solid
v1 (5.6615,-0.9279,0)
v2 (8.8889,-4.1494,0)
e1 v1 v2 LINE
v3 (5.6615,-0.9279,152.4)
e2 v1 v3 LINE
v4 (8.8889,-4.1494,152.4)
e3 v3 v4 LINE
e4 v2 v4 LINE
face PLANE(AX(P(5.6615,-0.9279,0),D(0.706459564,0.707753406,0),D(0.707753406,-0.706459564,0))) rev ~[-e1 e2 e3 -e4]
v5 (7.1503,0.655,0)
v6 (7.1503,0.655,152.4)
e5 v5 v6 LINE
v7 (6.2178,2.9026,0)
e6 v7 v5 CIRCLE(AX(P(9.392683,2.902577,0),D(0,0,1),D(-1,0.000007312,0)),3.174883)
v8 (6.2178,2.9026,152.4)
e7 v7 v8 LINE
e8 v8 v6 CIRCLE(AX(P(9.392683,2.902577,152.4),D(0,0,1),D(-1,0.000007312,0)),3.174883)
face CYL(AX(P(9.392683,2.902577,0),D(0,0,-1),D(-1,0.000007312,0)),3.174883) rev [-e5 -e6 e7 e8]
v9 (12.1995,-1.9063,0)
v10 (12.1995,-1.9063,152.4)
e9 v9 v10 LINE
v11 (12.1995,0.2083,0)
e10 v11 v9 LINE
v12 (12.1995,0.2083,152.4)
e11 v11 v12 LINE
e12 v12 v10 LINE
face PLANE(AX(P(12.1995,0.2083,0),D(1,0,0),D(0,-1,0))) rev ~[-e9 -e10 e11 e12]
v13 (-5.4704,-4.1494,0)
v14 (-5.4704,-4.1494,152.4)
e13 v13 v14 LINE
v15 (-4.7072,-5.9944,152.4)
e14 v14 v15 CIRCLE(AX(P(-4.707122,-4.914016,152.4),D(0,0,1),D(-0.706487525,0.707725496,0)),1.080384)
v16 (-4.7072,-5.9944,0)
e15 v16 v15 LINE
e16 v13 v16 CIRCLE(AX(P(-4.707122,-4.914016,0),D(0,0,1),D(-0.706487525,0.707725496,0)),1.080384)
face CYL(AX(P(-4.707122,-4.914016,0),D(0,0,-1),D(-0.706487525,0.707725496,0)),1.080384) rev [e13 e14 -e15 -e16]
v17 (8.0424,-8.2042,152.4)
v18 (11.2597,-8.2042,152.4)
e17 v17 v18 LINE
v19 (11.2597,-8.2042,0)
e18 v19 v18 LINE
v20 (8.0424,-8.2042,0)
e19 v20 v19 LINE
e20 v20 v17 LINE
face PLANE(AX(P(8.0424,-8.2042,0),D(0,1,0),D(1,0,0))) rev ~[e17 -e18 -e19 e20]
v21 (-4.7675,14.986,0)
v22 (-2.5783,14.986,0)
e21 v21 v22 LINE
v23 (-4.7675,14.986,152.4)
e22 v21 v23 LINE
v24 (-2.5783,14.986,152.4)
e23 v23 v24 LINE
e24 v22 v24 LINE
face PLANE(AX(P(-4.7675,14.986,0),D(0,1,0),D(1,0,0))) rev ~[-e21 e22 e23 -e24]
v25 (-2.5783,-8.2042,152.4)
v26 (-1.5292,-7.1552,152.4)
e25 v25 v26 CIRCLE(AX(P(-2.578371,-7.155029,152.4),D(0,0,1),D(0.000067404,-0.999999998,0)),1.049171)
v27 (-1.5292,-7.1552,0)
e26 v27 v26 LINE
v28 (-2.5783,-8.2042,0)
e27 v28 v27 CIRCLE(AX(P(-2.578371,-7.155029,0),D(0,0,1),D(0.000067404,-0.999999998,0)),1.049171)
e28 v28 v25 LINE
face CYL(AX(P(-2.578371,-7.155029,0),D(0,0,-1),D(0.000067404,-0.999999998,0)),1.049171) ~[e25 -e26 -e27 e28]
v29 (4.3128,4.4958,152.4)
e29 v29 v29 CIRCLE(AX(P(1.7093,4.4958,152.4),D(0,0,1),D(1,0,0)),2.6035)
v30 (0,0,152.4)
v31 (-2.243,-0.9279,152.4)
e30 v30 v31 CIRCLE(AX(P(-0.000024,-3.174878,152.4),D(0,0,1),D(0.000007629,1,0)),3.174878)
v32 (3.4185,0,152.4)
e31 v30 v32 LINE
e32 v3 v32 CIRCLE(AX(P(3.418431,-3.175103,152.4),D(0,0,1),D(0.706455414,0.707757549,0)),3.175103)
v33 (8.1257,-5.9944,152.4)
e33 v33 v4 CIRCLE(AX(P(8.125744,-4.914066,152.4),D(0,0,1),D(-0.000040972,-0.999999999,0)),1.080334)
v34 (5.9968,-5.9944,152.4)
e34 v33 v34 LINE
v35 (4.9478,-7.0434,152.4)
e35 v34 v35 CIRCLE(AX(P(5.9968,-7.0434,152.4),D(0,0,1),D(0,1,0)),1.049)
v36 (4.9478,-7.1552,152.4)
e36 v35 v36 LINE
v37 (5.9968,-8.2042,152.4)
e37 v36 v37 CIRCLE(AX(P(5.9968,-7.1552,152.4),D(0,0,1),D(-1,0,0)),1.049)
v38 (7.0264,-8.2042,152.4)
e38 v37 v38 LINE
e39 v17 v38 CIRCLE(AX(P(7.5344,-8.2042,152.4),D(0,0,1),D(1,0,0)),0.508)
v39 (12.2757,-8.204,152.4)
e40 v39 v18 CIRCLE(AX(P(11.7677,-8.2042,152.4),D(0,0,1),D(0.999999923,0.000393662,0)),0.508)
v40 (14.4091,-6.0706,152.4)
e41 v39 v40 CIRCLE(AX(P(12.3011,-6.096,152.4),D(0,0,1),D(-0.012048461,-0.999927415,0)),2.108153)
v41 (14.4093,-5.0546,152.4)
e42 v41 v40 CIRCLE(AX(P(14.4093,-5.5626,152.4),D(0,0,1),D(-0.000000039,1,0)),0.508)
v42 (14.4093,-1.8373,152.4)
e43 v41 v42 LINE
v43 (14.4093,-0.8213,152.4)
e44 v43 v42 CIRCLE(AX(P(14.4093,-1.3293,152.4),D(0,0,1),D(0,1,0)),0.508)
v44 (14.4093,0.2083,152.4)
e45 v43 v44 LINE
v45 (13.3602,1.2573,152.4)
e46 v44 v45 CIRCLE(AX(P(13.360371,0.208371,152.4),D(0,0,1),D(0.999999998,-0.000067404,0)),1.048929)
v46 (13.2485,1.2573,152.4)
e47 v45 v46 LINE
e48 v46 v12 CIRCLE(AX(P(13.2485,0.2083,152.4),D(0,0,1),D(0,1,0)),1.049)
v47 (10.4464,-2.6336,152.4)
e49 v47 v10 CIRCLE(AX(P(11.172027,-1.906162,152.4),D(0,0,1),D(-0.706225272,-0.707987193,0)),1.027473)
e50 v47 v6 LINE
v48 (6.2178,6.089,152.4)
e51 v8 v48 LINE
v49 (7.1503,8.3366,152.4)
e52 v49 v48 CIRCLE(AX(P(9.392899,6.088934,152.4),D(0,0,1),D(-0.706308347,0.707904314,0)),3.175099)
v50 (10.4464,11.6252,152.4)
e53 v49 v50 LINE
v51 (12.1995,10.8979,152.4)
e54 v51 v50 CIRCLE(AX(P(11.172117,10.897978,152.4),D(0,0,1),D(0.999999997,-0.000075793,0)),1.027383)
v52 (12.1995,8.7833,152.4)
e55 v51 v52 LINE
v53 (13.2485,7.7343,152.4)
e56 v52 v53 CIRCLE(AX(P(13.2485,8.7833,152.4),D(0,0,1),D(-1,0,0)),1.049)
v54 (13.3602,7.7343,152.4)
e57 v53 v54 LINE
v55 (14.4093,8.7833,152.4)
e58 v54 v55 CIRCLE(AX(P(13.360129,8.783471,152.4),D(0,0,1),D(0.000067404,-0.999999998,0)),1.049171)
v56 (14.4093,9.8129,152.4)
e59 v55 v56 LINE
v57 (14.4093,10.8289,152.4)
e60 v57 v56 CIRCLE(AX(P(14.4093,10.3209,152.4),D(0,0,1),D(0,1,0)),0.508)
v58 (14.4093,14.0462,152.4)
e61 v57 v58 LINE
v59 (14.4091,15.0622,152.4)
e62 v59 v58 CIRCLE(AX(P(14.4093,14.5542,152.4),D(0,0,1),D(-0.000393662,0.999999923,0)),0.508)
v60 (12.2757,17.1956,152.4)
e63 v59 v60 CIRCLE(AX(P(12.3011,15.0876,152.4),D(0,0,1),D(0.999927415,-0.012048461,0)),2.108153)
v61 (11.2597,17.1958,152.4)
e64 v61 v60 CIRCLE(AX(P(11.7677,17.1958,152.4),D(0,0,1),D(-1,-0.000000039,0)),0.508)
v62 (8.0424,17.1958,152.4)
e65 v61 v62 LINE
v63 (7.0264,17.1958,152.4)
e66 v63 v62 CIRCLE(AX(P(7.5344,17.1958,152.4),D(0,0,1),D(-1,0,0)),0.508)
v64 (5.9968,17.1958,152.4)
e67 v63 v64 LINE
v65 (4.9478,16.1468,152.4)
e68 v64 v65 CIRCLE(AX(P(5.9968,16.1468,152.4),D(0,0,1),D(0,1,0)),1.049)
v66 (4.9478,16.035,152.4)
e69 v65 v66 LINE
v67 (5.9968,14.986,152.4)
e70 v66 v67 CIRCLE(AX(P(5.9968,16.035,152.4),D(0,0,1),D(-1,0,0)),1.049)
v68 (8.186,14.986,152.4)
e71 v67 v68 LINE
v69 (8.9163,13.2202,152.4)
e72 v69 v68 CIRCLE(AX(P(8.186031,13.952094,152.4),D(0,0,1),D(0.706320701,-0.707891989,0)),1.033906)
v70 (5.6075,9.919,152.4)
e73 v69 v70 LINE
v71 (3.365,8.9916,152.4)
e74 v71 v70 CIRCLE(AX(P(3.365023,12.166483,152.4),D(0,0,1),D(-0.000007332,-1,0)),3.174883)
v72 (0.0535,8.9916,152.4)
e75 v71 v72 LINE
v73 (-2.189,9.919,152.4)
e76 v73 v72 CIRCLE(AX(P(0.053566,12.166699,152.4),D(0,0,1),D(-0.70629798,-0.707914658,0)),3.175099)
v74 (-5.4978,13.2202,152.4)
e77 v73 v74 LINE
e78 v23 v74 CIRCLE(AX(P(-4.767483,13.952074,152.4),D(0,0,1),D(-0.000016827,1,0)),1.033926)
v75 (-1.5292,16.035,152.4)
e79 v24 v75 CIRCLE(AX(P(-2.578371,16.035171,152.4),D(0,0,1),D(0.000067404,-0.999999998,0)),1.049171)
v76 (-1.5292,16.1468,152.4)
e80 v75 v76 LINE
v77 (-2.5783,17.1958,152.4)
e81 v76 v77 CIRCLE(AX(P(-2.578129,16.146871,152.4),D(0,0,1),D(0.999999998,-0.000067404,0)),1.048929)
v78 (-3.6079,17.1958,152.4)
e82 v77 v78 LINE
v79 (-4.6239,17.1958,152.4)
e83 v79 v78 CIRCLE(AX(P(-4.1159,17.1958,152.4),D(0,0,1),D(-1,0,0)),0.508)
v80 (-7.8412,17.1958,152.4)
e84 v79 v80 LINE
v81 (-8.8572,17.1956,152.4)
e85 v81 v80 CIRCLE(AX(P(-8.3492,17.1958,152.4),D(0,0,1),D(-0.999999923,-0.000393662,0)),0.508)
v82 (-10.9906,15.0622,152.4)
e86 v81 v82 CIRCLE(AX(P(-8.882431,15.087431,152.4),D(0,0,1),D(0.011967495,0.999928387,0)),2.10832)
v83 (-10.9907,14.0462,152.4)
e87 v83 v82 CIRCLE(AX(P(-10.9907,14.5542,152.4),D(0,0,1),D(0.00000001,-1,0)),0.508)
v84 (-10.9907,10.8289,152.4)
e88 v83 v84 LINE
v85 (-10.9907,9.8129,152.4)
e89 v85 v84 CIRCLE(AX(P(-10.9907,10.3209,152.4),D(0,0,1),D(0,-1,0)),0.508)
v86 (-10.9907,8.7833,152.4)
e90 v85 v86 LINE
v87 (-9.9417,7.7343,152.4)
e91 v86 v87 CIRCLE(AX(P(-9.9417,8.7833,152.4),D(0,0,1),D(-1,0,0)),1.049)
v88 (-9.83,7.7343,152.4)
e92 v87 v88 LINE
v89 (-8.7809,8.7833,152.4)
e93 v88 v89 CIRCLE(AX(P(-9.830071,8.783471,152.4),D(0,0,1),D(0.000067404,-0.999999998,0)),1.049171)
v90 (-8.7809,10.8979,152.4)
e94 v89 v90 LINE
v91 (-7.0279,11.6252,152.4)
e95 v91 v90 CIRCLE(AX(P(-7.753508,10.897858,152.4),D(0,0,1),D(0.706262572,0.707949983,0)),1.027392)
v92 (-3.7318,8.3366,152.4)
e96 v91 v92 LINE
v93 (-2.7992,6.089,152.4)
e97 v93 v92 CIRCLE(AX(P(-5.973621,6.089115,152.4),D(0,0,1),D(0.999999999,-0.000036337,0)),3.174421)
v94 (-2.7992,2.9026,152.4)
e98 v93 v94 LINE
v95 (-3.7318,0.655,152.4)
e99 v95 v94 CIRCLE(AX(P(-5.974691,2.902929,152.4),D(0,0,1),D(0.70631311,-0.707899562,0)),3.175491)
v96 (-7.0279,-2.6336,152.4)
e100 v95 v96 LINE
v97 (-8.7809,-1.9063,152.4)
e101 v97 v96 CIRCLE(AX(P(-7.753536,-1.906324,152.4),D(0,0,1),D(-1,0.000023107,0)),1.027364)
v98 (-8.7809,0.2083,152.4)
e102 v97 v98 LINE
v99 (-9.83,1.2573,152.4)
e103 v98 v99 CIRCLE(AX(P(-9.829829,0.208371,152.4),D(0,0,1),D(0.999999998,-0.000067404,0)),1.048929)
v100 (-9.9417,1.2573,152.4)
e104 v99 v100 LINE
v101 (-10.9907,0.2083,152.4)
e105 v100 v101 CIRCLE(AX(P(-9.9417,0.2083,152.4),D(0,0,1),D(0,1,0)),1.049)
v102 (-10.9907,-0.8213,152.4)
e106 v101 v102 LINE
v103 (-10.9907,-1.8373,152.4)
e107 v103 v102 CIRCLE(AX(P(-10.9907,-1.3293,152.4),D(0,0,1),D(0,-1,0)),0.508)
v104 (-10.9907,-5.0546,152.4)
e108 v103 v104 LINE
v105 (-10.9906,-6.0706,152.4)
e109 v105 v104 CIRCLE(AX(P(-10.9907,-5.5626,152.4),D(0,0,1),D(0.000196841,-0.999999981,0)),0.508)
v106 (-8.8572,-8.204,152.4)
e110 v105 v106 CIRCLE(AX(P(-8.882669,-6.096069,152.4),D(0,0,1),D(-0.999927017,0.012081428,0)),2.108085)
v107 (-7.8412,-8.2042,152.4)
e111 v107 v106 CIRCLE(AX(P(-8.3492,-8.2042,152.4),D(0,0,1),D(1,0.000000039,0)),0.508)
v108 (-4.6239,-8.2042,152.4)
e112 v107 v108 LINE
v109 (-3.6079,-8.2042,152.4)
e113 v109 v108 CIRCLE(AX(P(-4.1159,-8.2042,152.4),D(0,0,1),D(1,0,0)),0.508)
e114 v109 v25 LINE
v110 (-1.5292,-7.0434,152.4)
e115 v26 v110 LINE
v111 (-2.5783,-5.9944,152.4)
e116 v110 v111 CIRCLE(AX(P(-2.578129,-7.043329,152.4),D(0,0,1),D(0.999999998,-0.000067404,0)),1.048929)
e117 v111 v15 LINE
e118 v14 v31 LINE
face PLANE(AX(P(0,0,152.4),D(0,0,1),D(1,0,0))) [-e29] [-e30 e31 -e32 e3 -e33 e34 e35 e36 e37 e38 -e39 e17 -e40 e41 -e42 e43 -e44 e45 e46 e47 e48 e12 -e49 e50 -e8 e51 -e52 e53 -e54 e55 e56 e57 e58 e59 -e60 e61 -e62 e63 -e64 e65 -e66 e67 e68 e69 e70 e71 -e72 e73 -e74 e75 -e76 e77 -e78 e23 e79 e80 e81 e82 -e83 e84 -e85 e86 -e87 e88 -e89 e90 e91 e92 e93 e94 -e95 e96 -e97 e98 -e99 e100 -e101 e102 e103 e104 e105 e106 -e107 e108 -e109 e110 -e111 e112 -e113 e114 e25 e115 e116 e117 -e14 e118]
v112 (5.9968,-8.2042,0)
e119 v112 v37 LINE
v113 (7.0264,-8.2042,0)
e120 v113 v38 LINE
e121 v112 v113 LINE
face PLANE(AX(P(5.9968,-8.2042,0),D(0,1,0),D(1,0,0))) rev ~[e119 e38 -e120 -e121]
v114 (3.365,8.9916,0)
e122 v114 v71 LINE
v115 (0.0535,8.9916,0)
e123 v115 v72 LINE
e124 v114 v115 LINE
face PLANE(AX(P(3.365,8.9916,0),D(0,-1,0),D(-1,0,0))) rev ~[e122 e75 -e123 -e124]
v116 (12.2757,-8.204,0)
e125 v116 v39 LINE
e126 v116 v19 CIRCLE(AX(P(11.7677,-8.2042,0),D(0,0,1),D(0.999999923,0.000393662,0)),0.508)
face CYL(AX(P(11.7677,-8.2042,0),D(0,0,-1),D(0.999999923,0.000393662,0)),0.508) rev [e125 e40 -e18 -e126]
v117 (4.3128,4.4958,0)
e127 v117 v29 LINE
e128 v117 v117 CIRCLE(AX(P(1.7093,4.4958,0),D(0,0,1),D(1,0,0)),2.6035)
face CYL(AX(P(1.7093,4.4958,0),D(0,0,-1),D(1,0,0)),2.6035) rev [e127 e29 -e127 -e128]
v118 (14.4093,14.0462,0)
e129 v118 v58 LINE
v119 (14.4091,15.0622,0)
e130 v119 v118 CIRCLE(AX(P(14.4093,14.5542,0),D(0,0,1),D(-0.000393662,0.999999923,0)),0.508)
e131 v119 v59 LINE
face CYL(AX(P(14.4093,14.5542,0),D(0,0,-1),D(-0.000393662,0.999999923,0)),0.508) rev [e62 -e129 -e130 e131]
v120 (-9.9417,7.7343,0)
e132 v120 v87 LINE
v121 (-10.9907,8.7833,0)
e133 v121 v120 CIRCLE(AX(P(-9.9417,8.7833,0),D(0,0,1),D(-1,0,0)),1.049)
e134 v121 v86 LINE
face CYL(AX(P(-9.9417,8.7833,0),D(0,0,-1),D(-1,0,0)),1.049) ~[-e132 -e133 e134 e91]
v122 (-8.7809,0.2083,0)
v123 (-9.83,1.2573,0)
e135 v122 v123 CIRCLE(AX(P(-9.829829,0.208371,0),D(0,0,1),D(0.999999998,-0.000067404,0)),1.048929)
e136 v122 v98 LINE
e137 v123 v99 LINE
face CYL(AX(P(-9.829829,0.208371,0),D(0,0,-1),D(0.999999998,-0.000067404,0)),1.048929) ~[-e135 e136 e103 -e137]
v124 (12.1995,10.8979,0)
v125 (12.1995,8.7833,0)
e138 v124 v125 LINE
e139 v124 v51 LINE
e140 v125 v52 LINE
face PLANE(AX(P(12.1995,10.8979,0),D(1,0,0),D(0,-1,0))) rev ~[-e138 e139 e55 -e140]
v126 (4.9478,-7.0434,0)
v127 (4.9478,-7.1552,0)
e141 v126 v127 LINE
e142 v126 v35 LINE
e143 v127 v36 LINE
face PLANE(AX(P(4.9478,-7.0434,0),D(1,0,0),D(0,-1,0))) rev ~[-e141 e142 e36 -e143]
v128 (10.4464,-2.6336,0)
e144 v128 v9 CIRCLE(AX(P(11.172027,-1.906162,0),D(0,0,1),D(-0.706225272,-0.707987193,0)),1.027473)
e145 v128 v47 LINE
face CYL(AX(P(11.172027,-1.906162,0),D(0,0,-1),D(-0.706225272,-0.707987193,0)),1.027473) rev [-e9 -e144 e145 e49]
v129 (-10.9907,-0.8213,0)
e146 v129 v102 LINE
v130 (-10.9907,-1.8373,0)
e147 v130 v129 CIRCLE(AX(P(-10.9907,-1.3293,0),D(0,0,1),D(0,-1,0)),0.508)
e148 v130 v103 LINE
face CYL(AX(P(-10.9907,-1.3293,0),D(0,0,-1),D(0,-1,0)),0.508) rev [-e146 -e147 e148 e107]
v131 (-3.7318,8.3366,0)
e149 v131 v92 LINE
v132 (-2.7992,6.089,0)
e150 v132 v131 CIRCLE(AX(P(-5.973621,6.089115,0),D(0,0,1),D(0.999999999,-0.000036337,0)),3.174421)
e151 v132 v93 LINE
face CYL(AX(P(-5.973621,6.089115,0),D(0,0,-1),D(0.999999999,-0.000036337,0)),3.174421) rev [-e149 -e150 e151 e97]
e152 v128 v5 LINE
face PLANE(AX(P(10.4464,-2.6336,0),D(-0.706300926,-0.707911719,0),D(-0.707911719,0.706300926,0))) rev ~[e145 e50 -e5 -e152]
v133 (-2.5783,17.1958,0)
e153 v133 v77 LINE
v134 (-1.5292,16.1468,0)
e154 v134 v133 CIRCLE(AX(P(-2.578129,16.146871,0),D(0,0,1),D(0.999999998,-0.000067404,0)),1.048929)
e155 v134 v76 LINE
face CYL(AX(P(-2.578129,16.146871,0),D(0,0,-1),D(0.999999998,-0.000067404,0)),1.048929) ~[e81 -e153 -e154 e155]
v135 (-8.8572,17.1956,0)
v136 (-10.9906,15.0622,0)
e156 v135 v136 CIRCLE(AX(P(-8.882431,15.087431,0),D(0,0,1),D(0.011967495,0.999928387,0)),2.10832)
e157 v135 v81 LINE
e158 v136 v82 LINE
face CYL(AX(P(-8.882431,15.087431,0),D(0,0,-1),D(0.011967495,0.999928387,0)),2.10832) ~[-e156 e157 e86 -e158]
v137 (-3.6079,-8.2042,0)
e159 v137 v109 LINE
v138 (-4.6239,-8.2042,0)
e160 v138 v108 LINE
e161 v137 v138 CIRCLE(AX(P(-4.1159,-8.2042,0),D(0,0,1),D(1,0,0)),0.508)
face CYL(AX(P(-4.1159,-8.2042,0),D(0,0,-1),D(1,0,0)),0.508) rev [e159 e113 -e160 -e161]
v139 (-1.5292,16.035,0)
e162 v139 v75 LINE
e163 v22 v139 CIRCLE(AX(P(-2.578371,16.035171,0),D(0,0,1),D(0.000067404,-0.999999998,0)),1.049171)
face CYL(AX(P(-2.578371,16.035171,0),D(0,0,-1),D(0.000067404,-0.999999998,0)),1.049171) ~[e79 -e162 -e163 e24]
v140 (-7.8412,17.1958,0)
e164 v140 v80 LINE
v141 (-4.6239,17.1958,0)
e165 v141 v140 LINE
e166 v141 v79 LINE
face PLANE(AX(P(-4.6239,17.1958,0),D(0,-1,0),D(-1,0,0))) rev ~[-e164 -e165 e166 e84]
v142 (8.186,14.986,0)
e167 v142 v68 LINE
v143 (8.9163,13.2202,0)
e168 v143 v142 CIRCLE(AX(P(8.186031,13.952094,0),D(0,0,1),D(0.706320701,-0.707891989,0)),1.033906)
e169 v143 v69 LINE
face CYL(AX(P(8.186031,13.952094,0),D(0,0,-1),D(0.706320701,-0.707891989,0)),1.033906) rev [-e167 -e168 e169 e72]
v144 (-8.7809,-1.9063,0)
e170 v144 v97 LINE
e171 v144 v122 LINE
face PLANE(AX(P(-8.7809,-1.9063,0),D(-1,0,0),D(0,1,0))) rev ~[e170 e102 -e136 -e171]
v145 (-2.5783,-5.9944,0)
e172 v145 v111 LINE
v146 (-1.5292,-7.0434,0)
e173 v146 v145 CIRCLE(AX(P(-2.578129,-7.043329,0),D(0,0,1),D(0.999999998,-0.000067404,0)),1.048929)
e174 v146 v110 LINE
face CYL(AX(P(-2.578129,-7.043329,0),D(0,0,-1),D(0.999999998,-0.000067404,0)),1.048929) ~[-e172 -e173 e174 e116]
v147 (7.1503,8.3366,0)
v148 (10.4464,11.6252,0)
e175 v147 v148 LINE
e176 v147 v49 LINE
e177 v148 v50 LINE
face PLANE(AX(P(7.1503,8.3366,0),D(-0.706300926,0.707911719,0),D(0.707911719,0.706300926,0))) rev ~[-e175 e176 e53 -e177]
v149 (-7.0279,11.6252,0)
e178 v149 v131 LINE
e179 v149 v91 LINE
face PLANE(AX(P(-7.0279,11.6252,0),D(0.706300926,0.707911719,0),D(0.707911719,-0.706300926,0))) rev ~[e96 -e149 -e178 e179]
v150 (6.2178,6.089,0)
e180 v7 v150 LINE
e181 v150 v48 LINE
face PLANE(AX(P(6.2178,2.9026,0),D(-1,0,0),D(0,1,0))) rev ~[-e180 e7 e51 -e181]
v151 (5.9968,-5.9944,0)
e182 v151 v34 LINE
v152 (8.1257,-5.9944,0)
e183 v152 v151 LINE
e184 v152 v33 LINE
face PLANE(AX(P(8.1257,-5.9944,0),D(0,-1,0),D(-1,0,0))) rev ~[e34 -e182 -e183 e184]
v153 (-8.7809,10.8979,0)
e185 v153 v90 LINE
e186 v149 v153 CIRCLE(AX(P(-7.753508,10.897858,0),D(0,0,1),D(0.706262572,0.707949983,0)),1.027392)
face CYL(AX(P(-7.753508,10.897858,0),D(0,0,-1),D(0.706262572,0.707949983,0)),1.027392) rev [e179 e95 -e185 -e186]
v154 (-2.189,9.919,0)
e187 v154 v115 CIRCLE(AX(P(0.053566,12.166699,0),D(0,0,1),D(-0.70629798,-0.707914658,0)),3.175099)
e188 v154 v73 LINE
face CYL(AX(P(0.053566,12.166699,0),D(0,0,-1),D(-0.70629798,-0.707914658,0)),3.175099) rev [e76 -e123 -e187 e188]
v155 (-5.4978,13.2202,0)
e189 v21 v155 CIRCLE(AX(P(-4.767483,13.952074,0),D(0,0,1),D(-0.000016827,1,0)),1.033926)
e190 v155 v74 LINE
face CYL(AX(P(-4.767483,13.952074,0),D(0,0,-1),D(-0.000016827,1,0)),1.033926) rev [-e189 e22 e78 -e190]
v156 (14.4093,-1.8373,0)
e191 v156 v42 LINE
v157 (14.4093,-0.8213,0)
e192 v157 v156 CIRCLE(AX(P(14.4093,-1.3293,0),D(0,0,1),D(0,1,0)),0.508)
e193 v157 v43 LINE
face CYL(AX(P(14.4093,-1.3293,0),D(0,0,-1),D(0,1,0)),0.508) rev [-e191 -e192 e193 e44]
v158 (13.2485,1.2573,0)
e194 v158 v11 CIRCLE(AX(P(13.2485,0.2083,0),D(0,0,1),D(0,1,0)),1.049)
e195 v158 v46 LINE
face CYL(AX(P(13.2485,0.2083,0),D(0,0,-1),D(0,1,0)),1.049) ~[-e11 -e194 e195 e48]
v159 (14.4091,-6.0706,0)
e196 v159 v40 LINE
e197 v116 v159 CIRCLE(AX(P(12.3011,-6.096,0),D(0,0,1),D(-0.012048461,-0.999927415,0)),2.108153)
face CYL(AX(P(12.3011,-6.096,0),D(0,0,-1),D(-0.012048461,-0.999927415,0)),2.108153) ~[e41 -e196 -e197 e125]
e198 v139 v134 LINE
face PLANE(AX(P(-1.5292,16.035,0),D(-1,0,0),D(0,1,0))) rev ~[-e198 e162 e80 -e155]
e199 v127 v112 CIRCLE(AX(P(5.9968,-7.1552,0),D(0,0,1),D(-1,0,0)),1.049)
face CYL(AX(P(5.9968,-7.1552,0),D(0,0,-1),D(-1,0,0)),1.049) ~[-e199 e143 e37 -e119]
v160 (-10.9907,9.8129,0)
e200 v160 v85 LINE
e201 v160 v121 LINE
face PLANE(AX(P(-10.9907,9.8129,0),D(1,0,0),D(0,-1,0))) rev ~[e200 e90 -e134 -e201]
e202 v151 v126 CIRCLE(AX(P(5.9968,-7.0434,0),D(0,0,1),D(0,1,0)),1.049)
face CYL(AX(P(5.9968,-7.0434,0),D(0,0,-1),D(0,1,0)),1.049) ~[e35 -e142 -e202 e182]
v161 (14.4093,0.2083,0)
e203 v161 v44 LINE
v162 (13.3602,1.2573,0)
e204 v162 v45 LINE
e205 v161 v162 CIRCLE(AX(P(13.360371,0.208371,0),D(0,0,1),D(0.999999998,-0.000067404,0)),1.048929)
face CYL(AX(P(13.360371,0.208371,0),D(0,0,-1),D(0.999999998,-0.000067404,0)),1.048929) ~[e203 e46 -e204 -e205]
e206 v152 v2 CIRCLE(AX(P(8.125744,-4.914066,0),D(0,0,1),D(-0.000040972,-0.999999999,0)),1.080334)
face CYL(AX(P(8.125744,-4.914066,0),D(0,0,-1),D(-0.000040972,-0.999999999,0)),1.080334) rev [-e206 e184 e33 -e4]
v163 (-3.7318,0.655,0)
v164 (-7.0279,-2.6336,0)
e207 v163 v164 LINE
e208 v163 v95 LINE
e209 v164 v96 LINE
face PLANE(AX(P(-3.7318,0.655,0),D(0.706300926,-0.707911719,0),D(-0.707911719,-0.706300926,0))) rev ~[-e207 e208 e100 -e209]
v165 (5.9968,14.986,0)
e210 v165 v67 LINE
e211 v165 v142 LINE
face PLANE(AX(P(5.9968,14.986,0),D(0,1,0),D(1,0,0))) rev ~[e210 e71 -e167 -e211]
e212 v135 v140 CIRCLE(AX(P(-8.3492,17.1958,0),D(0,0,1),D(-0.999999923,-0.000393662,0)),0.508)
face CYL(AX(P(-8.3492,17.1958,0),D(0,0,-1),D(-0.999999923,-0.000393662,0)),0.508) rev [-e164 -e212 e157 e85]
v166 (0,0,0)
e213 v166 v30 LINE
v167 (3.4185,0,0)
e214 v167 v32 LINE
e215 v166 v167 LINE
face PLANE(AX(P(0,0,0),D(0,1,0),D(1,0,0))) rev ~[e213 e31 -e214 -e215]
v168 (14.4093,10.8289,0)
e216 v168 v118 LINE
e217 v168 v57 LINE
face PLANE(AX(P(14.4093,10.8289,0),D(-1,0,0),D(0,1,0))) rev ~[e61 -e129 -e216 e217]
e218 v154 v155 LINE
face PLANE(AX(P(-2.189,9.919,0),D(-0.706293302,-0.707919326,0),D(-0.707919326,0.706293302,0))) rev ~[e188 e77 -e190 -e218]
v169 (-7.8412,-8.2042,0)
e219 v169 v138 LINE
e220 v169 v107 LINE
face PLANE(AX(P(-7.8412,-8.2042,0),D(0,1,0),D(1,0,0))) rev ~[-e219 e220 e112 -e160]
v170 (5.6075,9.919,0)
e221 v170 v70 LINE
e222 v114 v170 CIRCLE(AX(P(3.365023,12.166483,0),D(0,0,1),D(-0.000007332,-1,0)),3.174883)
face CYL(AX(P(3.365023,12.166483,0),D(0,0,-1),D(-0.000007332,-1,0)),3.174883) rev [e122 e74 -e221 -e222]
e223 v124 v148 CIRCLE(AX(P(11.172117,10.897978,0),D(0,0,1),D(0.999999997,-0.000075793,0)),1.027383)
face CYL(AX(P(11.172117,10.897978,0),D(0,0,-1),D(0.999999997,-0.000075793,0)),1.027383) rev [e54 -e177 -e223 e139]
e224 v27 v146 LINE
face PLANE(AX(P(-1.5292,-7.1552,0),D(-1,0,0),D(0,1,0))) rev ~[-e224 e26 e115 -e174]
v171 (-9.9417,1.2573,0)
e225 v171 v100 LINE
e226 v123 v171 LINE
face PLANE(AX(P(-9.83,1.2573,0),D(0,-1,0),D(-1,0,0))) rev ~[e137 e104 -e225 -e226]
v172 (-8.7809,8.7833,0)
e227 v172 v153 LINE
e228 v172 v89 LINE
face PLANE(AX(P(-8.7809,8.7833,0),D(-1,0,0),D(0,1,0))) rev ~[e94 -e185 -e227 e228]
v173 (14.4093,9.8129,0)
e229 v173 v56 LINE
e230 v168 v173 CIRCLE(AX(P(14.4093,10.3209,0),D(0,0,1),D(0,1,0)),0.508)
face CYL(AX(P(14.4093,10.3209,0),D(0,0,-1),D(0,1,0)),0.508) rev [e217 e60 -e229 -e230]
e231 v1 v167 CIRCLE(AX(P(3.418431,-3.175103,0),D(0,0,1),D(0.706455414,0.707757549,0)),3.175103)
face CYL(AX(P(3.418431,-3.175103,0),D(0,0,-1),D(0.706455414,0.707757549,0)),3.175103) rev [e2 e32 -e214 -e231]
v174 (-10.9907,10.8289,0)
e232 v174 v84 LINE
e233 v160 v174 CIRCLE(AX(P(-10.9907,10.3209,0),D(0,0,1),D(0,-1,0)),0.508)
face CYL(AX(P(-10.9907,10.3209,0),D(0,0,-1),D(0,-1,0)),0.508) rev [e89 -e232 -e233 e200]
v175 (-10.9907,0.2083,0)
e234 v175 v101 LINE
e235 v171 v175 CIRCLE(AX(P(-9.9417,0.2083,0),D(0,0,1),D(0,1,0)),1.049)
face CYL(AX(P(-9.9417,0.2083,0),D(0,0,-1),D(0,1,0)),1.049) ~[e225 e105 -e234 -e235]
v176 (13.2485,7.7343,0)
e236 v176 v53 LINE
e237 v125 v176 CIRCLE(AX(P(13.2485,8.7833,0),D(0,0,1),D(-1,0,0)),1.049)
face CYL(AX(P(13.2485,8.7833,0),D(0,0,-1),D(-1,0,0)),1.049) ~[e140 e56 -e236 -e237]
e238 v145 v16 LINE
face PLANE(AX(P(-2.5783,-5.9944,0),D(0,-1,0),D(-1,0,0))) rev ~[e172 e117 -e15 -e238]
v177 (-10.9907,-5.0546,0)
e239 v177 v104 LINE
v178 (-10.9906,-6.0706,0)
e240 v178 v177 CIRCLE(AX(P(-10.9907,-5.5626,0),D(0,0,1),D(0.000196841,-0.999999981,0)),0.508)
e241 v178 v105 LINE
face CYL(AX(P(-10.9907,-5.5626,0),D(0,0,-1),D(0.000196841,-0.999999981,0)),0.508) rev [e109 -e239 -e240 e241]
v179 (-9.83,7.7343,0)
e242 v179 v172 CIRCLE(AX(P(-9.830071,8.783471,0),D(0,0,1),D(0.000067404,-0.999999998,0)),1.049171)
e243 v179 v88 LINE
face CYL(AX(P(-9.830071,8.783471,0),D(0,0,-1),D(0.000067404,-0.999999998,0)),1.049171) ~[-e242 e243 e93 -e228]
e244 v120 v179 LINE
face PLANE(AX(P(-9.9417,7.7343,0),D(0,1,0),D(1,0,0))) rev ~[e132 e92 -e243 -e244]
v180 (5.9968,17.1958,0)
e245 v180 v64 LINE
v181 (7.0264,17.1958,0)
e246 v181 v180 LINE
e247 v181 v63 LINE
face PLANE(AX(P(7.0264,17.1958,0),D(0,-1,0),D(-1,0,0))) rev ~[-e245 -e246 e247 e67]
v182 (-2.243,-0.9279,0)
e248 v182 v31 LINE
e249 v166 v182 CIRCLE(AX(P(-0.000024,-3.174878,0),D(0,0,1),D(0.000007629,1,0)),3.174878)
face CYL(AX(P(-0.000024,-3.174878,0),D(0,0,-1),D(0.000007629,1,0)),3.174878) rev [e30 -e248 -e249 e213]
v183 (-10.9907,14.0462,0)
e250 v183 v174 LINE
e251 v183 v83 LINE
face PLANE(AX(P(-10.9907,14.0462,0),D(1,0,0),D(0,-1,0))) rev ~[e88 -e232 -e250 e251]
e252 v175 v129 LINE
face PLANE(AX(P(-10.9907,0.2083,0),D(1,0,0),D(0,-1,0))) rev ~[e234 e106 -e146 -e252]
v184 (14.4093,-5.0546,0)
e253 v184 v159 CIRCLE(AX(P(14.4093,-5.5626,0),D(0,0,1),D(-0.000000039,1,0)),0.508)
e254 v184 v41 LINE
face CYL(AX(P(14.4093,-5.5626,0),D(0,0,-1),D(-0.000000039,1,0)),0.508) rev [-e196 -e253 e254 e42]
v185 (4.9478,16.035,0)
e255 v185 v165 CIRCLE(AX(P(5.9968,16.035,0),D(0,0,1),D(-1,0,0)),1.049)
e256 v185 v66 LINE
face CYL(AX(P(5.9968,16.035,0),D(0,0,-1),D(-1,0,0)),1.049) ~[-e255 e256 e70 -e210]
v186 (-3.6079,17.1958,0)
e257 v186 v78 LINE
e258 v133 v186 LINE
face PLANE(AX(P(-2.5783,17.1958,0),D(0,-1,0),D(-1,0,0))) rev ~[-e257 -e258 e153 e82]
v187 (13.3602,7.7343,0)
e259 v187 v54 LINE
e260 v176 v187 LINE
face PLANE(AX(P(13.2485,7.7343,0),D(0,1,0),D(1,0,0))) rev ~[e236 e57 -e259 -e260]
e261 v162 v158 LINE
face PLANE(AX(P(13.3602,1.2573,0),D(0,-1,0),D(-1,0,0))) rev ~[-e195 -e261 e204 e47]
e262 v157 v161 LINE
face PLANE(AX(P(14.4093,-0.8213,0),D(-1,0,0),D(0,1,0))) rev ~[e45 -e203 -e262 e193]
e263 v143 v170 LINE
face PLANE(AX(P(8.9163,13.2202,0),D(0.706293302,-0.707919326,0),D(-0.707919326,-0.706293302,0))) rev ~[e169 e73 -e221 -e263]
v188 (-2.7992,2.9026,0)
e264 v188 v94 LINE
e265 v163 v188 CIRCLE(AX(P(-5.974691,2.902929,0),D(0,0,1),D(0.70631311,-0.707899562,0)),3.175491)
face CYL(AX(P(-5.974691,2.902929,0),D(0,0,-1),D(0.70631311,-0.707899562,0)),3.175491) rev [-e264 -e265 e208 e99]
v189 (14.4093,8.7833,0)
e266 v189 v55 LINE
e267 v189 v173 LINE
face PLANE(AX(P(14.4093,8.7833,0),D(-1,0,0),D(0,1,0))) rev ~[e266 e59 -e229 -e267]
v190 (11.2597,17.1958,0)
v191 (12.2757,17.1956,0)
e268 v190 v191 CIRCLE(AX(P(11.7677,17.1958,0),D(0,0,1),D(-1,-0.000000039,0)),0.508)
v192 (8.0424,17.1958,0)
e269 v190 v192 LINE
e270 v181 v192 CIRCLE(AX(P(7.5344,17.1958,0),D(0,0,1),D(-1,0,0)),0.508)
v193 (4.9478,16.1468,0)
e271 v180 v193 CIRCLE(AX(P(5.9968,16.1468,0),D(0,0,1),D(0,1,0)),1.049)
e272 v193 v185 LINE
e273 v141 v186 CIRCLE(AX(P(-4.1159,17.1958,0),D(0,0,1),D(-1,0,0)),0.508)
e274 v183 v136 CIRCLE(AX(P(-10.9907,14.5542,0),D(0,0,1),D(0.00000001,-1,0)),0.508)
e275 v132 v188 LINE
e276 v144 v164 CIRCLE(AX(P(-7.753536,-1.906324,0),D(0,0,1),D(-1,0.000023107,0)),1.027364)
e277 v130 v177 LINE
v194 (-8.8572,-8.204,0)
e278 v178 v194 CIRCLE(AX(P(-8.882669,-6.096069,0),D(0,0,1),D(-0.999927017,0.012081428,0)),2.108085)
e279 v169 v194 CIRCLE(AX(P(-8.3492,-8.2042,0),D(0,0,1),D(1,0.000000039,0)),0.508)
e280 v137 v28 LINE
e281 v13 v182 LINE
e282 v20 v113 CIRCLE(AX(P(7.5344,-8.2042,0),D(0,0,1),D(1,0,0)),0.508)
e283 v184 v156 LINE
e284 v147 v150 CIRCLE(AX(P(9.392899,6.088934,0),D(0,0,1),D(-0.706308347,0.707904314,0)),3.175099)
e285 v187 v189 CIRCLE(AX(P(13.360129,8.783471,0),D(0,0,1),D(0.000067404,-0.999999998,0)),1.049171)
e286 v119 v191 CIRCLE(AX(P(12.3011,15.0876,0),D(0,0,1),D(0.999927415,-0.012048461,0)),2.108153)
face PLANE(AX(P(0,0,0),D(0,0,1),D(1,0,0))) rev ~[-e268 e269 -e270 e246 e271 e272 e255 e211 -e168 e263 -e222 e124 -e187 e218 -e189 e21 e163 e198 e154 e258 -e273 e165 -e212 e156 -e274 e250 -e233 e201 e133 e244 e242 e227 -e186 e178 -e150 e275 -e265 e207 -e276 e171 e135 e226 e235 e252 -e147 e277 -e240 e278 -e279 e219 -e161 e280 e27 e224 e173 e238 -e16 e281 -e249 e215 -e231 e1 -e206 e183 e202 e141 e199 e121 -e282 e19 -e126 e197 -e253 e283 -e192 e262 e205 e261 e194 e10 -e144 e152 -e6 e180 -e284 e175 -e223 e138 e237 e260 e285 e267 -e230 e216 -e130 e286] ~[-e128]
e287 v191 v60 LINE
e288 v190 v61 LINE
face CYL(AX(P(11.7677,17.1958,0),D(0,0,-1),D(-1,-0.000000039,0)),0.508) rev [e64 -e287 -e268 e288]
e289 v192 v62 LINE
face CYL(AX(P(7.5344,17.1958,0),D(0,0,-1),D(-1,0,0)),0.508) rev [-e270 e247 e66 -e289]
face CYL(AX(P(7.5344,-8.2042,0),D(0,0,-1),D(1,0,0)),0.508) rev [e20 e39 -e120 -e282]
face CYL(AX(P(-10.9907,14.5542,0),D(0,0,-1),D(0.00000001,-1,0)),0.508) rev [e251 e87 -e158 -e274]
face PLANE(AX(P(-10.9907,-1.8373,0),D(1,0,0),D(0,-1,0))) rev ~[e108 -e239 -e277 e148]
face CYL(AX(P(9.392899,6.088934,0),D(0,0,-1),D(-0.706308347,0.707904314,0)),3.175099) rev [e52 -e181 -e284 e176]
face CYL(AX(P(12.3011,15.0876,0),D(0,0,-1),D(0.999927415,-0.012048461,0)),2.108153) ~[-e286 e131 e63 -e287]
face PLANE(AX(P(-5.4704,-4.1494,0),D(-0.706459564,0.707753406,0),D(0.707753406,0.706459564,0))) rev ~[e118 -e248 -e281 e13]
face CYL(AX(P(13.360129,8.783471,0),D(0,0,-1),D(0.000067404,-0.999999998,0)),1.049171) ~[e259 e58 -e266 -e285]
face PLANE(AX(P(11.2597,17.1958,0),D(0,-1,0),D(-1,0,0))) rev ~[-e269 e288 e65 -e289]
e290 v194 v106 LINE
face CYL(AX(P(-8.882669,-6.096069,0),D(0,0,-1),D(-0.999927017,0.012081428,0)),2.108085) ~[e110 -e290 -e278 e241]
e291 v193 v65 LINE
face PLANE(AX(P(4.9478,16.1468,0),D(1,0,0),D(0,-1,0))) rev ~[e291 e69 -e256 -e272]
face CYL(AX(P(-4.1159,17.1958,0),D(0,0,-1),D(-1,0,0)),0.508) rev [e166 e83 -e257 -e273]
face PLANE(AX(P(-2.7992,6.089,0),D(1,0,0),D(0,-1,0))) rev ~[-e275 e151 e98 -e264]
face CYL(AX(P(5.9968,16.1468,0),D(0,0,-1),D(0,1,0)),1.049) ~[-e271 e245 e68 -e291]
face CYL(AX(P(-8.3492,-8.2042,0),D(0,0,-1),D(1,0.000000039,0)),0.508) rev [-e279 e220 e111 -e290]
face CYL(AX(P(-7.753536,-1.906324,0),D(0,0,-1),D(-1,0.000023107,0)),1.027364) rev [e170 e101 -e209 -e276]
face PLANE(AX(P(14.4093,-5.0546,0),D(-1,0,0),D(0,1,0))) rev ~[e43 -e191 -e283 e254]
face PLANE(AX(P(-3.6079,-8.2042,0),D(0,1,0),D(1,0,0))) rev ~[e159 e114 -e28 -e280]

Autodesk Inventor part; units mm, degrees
ref_plane "YZ Plane" through (0, 0, 0) normal (1, 0, 0) x (0, 1, 0)
ref_plane "XZ Plane" through (0, 0, 0) normal (0, 1, 0) x (-1, 0, 0)
ref_plane "XY Plane" through (0, 0, 0) normal (0, 0, 1) x (1, 0, 0)
sketch "Sketch1" plane through (0, 0, 0) normal (0, 0, 1) x (1, 0, 0)
  arc A0 (-5.4704, -4.1494) -> (-4.7072, -5.9944) centre (-4.7072, -4.914) ccw
  line L0 (-5.4704, -4.1494) -> (-2.243, -0.9279)
  arc A1 (0, 0) -> (-2.243, -0.9279) centre (0, -3.175) ccw
  line L1 (0, 0) -> (3.4185, 0)
  arc A2 (5.6615, -0.9279) -> (3.4185, 0) centre (3.4185, -3.175) ccw
  line L2 (5.6615, -0.9279) -> (8.8889, -4.1494)
  arc A3 (8.1257, -5.9944) -> (8.8889, -4.1494) centre (8.1257, -4.914) ccw
  line L3 (8.1257, -5.9944) -> (5.9968, -5.9944)
  arc A4 (5.9968, -5.9944) -> (4.9478, -7.0434) centre (5.9968, -7.0434) ccw
  line L4 (4.9478, -7.0434) -> (4.9478, -7.1552)
  arc A5 (4.9478, -7.1552) -> (5.9968, -8.2042) centre (5.9968, -7.1552) ccw
  line L5 (5.9968, -8.2042) -> (7.0264, -8.2042)
  arc A6 (8.0424, -8.2042) -> (7.0264, -8.2042) centre (7.5344, -8.2042) ccw
  line L6 (8.0424, -8.2042) -> (11.2597, -8.2042)
  arc A7 (12.2757, -8.204) -> (11.2597, -8.2042) centre (11.7677, -8.2042) ccw
  arc A8 (12.2757, -8.204) -> (14.4091, -6.0706) centre (12.3011, -6.096) ccw
  arc A9 (14.4093, -5.0546) -> (14.4091, -6.0706) centre (14.4093, -5.5626) ccw
  line L7 (14.4093, -5.0546) -> (14.4093, -1.8373)
  arc A10 (14.4093, -0.8213) -> (14.4093, -1.8373) centre (14.4093, -1.3293) ccw
  line L8 (14.4093, -0.8213) -> (14.4093, 0.2083)
  arc A11 (14.4093, 0.2083) -> (13.3602, 1.2573) centre (13.3602, 0.2083) ccw
  line L9 (13.3602, 1.2573) -> (13.2485, 1.2573)
  arc A12 (13.2485, 1.2573) -> (12.1995, 0.2083) centre (13.2485, 0.2083) ccw
  line L10 (12.1995, 0.2083) -> (12.1995, -1.9063)
  arc A13 (10.4464, -2.6336) -> (12.1995, -1.9063) centre (11.172, -1.9063) ccw
  line L11 (10.4464, -2.6336) -> (7.1503, 0.655)
  arc A14 (6.2178, 2.9026) -> (7.1503, 0.655) centre (9.3928, 2.9026) ccw
  line L12 (6.2178, 2.9026) -> (6.2178, 6.089)
  arc A15 (7.1503, 8.3366) -> (6.2178, 6.089) centre (9.3928, 6.089) ccw
  line L13 (7.1503, 8.3366) -> (10.4464, 11.6252)
  arc A16 (12.1995, 10.8979) -> (10.4464, 11.6252) centre (11.172, 10.8979) ccw
  line L14 (12.1995, 10.8979) -> (12.1995, 8.7833)
  arc A17 (12.1995, 8.7833) -> (13.2485, 7.7343) centre (13.2485, 8.7833) ccw
  line L15 (13.2485, 7.7343) -> (13.3602, 7.7343)
  arc A18 (13.3602, 7.7343) -> (14.4093, 8.7833) centre (13.3602, 8.7833) ccw
  line L16 (14.4093, 8.7833) -> (14.4093, 9.8129)
  arc A19 (14.4093, 10.8289) -> (14.4093, 9.8129) centre (14.4093, 10.3209) ccw
  line L17 (14.4093, 10.8289) -> (14.4093, 14.0462)
  arc A20 (14.4091, 15.0622) -> (14.4093, 14.0462) centre (14.4093, 14.5542) ccw
  arc A21 (14.4091, 15.0622) -> (12.2757, 17.1956) centre (12.3011, 15.0876) ccw
  arc A22 (11.2597, 17.1958) -> (12.2757, 17.1956) centre (11.7677, 17.1958) ccw
  line L18 (11.2597, 17.1958) -> (8.0424, 17.1958)
  arc A23 (7.0264, 17.1958) -> (8.0424, 17.1958) centre (7.5344, 17.1958) ccw
  line L19 (7.0264, 17.1958) -> (5.9968, 17.1958)
  arc A24 (5.9968, 17.1958) -> (4.9478, 16.1468) centre (5.9968, 16.1468) ccw
  line L20 (4.9478, 16.1468) -> (4.9478, 16.035)
  arc A25 (4.9478, 16.035) -> (5.9968, 14.986) centre (5.9968, 16.035) ccw
  line L21 (5.9968, 14.986) -> (8.186, 14.986)
  arc A26 (8.9163, 13.2202) -> (8.186, 14.986) centre (8.186, 13.9521) ccw
  line L22 (8.9163, 13.2202) -> (5.6075, 9.919)
  arc A27 (3.365, 8.9916) -> (5.6075, 9.919) centre (3.365, 12.1666) ccw
  line L23 (3.365, 8.9916) -> (0.0535, 8.9916)
  arc A28 (-2.189, 9.919) -> (0.0535, 8.9916) centre (0.0535, 12.1666) ccw
  line L24 (-2.189, 9.919) -> (-5.4978, 13.2202)
  arc A29 (-4.7675, 14.986) -> (-5.4978, 13.2202) centre (-4.7675, 13.9521) ccw
  line L25 (-4.7675, 14.986) -> (-2.5783, 14.986)
  arc A30 (-2.5783, 14.986) -> (-1.5292, 16.035) centre (-2.5783, 16.035) ccw
  line L26 (-1.5292, 16.035) -> (-1.5292, 16.1468)
  arc A31 (-1.5292, 16.1468) -> (-2.5783, 17.1958) centre (-2.5783, 16.1468) ccw
  line L27 (-2.5783, 17.1958) -> (-3.6079, 17.1958)
  arc A32 (-4.6239, 17.1958) -> (-3.6079, 17.1958) centre (-4.1159, 17.1958) ccw
  line L28 (-4.6239, 17.1958) -> (-7.8412, 17.1958)
  arc A33 (-8.8572, 17.1956) -> (-7.8412, 17.1958) centre (-8.3492, 17.1958) ccw
  arc A34 (-8.8572, 17.1956) -> (-10.9906, 15.0622) centre (-8.8825, 15.0876) ccw
  arc A35 (-10.9907, 14.0462) -> (-10.9906, 15.0622) centre (-10.9907, 14.5542) ccw
  line L29 (-10.9907, 14.0462) -> (-10.9907, 10.8289)
  arc A36 (-10.9907, 9.8129) -> (-10.9907, 10.8289) centre (-10.9907, 10.3209) ccw
  line L30 (-10.9907, 9.8129) -> (-10.9907, 8.7833)
  arc A37 (-10.9907, 8.7833) -> (-9.9417, 7.7343) centre (-9.9417, 8.7833) ccw
  line L31 (-9.9417, 7.7343) -> (-9.83, 7.7343)
  arc A38 (-9.83, 7.7343) -> (-8.7809, 8.7833) centre (-9.83, 8.7833) ccw
  line L32 (-8.7809, 8.7833) -> (-8.7809, 10.8979)
  arc A39 (-7.0279, 11.6252) -> (-8.7809, 10.8979) centre (-7.7535, 10.8979) ccw
  line L33 (-7.0279, 11.6252) -> (-3.7318, 8.3366)
  arc A40 (-2.7992, 6.089) -> (-3.7318, 8.3366) centre (-5.9742, 6.089) ccw
  line L34 (-2.7992, 6.089) -> (-2.7992, 2.9026)
  arc A41 (-3.7318, 0.655) -> (-2.7992, 2.9026) centre (-5.9742, 2.9026) ccw
  line L35 (-3.7318, 0.655) -> (-7.0279, -2.6336)
  arc A42 (-8.7809, -1.9063) -> (-7.0279, -2.6336) centre (-7.7535, -1.9063) ccw
  line L36 (-8.7809, -1.9063) -> (-8.7809, 0.2083)
  arc A43 (-8.7809, 0.2083) -> (-9.83, 1.2573) centre (-9.83, 0.2083) ccw
  line L37 (-9.83, 1.2573) -> (-9.9417, 1.2573)
  arc A44 (-9.9417, 1.2573) -> (-10.9907, 0.2083) centre (-9.9417, 0.2083) ccw
  line L38 (-10.9907, 0.2083) -> (-10.9907, -0.8213)
  arc A45 (-10.9907, -1.8373) -> (-10.9907, -0.8213) centre (-10.9907, -1.3293) ccw
  line L39 (-10.9907, -1.8373) -> (-10.9907, -5.0546)
  arc A46 (-10.9906, -6.0706) -> (-10.9907, -5.0546) centre (-10.9907, -5.5626) ccw
  arc A47 (-10.9906, -6.0706) -> (-8.8572, -8.204) centre (-8.8825, -6.096) ccw
  arc A48 (-7.8412, -8.2042) -> (-8.8572, -8.204) centre (-8.3492, -8.2042) ccw
  line L40 (-7.8412, -8.2042) -> (-4.6239, -8.2042)
  arc A49 (-3.6079, -8.2042) -> (-4.6239, -8.2042) centre (-4.1159, -8.2042) ccw
  line L41 (-3.6079, -8.2042) -> (-2.5783, -8.2042)
  arc A50 (-2.5783, -8.2042) -> (-1.5292, -7.1552) centre (-2.5783, -7.1552) ccw
  line L42 (-1.5292, -7.1552) -> (-1.5292, -7.0434)
  arc A51 (-1.5292, -7.0434) -> (-2.5783, -5.9944) centre (-2.5783, -7.0434) ccw
  line L43 (-2.5783, -5.9944) -> (-4.7072, -5.9944)
  circle A52 centre (1.7093, 4.4958) radius 2.6035
extrude "Extrusion1" add sketch "Sketch1" along normal blind 152.4
properties part number "6in 1x1 T slot"
